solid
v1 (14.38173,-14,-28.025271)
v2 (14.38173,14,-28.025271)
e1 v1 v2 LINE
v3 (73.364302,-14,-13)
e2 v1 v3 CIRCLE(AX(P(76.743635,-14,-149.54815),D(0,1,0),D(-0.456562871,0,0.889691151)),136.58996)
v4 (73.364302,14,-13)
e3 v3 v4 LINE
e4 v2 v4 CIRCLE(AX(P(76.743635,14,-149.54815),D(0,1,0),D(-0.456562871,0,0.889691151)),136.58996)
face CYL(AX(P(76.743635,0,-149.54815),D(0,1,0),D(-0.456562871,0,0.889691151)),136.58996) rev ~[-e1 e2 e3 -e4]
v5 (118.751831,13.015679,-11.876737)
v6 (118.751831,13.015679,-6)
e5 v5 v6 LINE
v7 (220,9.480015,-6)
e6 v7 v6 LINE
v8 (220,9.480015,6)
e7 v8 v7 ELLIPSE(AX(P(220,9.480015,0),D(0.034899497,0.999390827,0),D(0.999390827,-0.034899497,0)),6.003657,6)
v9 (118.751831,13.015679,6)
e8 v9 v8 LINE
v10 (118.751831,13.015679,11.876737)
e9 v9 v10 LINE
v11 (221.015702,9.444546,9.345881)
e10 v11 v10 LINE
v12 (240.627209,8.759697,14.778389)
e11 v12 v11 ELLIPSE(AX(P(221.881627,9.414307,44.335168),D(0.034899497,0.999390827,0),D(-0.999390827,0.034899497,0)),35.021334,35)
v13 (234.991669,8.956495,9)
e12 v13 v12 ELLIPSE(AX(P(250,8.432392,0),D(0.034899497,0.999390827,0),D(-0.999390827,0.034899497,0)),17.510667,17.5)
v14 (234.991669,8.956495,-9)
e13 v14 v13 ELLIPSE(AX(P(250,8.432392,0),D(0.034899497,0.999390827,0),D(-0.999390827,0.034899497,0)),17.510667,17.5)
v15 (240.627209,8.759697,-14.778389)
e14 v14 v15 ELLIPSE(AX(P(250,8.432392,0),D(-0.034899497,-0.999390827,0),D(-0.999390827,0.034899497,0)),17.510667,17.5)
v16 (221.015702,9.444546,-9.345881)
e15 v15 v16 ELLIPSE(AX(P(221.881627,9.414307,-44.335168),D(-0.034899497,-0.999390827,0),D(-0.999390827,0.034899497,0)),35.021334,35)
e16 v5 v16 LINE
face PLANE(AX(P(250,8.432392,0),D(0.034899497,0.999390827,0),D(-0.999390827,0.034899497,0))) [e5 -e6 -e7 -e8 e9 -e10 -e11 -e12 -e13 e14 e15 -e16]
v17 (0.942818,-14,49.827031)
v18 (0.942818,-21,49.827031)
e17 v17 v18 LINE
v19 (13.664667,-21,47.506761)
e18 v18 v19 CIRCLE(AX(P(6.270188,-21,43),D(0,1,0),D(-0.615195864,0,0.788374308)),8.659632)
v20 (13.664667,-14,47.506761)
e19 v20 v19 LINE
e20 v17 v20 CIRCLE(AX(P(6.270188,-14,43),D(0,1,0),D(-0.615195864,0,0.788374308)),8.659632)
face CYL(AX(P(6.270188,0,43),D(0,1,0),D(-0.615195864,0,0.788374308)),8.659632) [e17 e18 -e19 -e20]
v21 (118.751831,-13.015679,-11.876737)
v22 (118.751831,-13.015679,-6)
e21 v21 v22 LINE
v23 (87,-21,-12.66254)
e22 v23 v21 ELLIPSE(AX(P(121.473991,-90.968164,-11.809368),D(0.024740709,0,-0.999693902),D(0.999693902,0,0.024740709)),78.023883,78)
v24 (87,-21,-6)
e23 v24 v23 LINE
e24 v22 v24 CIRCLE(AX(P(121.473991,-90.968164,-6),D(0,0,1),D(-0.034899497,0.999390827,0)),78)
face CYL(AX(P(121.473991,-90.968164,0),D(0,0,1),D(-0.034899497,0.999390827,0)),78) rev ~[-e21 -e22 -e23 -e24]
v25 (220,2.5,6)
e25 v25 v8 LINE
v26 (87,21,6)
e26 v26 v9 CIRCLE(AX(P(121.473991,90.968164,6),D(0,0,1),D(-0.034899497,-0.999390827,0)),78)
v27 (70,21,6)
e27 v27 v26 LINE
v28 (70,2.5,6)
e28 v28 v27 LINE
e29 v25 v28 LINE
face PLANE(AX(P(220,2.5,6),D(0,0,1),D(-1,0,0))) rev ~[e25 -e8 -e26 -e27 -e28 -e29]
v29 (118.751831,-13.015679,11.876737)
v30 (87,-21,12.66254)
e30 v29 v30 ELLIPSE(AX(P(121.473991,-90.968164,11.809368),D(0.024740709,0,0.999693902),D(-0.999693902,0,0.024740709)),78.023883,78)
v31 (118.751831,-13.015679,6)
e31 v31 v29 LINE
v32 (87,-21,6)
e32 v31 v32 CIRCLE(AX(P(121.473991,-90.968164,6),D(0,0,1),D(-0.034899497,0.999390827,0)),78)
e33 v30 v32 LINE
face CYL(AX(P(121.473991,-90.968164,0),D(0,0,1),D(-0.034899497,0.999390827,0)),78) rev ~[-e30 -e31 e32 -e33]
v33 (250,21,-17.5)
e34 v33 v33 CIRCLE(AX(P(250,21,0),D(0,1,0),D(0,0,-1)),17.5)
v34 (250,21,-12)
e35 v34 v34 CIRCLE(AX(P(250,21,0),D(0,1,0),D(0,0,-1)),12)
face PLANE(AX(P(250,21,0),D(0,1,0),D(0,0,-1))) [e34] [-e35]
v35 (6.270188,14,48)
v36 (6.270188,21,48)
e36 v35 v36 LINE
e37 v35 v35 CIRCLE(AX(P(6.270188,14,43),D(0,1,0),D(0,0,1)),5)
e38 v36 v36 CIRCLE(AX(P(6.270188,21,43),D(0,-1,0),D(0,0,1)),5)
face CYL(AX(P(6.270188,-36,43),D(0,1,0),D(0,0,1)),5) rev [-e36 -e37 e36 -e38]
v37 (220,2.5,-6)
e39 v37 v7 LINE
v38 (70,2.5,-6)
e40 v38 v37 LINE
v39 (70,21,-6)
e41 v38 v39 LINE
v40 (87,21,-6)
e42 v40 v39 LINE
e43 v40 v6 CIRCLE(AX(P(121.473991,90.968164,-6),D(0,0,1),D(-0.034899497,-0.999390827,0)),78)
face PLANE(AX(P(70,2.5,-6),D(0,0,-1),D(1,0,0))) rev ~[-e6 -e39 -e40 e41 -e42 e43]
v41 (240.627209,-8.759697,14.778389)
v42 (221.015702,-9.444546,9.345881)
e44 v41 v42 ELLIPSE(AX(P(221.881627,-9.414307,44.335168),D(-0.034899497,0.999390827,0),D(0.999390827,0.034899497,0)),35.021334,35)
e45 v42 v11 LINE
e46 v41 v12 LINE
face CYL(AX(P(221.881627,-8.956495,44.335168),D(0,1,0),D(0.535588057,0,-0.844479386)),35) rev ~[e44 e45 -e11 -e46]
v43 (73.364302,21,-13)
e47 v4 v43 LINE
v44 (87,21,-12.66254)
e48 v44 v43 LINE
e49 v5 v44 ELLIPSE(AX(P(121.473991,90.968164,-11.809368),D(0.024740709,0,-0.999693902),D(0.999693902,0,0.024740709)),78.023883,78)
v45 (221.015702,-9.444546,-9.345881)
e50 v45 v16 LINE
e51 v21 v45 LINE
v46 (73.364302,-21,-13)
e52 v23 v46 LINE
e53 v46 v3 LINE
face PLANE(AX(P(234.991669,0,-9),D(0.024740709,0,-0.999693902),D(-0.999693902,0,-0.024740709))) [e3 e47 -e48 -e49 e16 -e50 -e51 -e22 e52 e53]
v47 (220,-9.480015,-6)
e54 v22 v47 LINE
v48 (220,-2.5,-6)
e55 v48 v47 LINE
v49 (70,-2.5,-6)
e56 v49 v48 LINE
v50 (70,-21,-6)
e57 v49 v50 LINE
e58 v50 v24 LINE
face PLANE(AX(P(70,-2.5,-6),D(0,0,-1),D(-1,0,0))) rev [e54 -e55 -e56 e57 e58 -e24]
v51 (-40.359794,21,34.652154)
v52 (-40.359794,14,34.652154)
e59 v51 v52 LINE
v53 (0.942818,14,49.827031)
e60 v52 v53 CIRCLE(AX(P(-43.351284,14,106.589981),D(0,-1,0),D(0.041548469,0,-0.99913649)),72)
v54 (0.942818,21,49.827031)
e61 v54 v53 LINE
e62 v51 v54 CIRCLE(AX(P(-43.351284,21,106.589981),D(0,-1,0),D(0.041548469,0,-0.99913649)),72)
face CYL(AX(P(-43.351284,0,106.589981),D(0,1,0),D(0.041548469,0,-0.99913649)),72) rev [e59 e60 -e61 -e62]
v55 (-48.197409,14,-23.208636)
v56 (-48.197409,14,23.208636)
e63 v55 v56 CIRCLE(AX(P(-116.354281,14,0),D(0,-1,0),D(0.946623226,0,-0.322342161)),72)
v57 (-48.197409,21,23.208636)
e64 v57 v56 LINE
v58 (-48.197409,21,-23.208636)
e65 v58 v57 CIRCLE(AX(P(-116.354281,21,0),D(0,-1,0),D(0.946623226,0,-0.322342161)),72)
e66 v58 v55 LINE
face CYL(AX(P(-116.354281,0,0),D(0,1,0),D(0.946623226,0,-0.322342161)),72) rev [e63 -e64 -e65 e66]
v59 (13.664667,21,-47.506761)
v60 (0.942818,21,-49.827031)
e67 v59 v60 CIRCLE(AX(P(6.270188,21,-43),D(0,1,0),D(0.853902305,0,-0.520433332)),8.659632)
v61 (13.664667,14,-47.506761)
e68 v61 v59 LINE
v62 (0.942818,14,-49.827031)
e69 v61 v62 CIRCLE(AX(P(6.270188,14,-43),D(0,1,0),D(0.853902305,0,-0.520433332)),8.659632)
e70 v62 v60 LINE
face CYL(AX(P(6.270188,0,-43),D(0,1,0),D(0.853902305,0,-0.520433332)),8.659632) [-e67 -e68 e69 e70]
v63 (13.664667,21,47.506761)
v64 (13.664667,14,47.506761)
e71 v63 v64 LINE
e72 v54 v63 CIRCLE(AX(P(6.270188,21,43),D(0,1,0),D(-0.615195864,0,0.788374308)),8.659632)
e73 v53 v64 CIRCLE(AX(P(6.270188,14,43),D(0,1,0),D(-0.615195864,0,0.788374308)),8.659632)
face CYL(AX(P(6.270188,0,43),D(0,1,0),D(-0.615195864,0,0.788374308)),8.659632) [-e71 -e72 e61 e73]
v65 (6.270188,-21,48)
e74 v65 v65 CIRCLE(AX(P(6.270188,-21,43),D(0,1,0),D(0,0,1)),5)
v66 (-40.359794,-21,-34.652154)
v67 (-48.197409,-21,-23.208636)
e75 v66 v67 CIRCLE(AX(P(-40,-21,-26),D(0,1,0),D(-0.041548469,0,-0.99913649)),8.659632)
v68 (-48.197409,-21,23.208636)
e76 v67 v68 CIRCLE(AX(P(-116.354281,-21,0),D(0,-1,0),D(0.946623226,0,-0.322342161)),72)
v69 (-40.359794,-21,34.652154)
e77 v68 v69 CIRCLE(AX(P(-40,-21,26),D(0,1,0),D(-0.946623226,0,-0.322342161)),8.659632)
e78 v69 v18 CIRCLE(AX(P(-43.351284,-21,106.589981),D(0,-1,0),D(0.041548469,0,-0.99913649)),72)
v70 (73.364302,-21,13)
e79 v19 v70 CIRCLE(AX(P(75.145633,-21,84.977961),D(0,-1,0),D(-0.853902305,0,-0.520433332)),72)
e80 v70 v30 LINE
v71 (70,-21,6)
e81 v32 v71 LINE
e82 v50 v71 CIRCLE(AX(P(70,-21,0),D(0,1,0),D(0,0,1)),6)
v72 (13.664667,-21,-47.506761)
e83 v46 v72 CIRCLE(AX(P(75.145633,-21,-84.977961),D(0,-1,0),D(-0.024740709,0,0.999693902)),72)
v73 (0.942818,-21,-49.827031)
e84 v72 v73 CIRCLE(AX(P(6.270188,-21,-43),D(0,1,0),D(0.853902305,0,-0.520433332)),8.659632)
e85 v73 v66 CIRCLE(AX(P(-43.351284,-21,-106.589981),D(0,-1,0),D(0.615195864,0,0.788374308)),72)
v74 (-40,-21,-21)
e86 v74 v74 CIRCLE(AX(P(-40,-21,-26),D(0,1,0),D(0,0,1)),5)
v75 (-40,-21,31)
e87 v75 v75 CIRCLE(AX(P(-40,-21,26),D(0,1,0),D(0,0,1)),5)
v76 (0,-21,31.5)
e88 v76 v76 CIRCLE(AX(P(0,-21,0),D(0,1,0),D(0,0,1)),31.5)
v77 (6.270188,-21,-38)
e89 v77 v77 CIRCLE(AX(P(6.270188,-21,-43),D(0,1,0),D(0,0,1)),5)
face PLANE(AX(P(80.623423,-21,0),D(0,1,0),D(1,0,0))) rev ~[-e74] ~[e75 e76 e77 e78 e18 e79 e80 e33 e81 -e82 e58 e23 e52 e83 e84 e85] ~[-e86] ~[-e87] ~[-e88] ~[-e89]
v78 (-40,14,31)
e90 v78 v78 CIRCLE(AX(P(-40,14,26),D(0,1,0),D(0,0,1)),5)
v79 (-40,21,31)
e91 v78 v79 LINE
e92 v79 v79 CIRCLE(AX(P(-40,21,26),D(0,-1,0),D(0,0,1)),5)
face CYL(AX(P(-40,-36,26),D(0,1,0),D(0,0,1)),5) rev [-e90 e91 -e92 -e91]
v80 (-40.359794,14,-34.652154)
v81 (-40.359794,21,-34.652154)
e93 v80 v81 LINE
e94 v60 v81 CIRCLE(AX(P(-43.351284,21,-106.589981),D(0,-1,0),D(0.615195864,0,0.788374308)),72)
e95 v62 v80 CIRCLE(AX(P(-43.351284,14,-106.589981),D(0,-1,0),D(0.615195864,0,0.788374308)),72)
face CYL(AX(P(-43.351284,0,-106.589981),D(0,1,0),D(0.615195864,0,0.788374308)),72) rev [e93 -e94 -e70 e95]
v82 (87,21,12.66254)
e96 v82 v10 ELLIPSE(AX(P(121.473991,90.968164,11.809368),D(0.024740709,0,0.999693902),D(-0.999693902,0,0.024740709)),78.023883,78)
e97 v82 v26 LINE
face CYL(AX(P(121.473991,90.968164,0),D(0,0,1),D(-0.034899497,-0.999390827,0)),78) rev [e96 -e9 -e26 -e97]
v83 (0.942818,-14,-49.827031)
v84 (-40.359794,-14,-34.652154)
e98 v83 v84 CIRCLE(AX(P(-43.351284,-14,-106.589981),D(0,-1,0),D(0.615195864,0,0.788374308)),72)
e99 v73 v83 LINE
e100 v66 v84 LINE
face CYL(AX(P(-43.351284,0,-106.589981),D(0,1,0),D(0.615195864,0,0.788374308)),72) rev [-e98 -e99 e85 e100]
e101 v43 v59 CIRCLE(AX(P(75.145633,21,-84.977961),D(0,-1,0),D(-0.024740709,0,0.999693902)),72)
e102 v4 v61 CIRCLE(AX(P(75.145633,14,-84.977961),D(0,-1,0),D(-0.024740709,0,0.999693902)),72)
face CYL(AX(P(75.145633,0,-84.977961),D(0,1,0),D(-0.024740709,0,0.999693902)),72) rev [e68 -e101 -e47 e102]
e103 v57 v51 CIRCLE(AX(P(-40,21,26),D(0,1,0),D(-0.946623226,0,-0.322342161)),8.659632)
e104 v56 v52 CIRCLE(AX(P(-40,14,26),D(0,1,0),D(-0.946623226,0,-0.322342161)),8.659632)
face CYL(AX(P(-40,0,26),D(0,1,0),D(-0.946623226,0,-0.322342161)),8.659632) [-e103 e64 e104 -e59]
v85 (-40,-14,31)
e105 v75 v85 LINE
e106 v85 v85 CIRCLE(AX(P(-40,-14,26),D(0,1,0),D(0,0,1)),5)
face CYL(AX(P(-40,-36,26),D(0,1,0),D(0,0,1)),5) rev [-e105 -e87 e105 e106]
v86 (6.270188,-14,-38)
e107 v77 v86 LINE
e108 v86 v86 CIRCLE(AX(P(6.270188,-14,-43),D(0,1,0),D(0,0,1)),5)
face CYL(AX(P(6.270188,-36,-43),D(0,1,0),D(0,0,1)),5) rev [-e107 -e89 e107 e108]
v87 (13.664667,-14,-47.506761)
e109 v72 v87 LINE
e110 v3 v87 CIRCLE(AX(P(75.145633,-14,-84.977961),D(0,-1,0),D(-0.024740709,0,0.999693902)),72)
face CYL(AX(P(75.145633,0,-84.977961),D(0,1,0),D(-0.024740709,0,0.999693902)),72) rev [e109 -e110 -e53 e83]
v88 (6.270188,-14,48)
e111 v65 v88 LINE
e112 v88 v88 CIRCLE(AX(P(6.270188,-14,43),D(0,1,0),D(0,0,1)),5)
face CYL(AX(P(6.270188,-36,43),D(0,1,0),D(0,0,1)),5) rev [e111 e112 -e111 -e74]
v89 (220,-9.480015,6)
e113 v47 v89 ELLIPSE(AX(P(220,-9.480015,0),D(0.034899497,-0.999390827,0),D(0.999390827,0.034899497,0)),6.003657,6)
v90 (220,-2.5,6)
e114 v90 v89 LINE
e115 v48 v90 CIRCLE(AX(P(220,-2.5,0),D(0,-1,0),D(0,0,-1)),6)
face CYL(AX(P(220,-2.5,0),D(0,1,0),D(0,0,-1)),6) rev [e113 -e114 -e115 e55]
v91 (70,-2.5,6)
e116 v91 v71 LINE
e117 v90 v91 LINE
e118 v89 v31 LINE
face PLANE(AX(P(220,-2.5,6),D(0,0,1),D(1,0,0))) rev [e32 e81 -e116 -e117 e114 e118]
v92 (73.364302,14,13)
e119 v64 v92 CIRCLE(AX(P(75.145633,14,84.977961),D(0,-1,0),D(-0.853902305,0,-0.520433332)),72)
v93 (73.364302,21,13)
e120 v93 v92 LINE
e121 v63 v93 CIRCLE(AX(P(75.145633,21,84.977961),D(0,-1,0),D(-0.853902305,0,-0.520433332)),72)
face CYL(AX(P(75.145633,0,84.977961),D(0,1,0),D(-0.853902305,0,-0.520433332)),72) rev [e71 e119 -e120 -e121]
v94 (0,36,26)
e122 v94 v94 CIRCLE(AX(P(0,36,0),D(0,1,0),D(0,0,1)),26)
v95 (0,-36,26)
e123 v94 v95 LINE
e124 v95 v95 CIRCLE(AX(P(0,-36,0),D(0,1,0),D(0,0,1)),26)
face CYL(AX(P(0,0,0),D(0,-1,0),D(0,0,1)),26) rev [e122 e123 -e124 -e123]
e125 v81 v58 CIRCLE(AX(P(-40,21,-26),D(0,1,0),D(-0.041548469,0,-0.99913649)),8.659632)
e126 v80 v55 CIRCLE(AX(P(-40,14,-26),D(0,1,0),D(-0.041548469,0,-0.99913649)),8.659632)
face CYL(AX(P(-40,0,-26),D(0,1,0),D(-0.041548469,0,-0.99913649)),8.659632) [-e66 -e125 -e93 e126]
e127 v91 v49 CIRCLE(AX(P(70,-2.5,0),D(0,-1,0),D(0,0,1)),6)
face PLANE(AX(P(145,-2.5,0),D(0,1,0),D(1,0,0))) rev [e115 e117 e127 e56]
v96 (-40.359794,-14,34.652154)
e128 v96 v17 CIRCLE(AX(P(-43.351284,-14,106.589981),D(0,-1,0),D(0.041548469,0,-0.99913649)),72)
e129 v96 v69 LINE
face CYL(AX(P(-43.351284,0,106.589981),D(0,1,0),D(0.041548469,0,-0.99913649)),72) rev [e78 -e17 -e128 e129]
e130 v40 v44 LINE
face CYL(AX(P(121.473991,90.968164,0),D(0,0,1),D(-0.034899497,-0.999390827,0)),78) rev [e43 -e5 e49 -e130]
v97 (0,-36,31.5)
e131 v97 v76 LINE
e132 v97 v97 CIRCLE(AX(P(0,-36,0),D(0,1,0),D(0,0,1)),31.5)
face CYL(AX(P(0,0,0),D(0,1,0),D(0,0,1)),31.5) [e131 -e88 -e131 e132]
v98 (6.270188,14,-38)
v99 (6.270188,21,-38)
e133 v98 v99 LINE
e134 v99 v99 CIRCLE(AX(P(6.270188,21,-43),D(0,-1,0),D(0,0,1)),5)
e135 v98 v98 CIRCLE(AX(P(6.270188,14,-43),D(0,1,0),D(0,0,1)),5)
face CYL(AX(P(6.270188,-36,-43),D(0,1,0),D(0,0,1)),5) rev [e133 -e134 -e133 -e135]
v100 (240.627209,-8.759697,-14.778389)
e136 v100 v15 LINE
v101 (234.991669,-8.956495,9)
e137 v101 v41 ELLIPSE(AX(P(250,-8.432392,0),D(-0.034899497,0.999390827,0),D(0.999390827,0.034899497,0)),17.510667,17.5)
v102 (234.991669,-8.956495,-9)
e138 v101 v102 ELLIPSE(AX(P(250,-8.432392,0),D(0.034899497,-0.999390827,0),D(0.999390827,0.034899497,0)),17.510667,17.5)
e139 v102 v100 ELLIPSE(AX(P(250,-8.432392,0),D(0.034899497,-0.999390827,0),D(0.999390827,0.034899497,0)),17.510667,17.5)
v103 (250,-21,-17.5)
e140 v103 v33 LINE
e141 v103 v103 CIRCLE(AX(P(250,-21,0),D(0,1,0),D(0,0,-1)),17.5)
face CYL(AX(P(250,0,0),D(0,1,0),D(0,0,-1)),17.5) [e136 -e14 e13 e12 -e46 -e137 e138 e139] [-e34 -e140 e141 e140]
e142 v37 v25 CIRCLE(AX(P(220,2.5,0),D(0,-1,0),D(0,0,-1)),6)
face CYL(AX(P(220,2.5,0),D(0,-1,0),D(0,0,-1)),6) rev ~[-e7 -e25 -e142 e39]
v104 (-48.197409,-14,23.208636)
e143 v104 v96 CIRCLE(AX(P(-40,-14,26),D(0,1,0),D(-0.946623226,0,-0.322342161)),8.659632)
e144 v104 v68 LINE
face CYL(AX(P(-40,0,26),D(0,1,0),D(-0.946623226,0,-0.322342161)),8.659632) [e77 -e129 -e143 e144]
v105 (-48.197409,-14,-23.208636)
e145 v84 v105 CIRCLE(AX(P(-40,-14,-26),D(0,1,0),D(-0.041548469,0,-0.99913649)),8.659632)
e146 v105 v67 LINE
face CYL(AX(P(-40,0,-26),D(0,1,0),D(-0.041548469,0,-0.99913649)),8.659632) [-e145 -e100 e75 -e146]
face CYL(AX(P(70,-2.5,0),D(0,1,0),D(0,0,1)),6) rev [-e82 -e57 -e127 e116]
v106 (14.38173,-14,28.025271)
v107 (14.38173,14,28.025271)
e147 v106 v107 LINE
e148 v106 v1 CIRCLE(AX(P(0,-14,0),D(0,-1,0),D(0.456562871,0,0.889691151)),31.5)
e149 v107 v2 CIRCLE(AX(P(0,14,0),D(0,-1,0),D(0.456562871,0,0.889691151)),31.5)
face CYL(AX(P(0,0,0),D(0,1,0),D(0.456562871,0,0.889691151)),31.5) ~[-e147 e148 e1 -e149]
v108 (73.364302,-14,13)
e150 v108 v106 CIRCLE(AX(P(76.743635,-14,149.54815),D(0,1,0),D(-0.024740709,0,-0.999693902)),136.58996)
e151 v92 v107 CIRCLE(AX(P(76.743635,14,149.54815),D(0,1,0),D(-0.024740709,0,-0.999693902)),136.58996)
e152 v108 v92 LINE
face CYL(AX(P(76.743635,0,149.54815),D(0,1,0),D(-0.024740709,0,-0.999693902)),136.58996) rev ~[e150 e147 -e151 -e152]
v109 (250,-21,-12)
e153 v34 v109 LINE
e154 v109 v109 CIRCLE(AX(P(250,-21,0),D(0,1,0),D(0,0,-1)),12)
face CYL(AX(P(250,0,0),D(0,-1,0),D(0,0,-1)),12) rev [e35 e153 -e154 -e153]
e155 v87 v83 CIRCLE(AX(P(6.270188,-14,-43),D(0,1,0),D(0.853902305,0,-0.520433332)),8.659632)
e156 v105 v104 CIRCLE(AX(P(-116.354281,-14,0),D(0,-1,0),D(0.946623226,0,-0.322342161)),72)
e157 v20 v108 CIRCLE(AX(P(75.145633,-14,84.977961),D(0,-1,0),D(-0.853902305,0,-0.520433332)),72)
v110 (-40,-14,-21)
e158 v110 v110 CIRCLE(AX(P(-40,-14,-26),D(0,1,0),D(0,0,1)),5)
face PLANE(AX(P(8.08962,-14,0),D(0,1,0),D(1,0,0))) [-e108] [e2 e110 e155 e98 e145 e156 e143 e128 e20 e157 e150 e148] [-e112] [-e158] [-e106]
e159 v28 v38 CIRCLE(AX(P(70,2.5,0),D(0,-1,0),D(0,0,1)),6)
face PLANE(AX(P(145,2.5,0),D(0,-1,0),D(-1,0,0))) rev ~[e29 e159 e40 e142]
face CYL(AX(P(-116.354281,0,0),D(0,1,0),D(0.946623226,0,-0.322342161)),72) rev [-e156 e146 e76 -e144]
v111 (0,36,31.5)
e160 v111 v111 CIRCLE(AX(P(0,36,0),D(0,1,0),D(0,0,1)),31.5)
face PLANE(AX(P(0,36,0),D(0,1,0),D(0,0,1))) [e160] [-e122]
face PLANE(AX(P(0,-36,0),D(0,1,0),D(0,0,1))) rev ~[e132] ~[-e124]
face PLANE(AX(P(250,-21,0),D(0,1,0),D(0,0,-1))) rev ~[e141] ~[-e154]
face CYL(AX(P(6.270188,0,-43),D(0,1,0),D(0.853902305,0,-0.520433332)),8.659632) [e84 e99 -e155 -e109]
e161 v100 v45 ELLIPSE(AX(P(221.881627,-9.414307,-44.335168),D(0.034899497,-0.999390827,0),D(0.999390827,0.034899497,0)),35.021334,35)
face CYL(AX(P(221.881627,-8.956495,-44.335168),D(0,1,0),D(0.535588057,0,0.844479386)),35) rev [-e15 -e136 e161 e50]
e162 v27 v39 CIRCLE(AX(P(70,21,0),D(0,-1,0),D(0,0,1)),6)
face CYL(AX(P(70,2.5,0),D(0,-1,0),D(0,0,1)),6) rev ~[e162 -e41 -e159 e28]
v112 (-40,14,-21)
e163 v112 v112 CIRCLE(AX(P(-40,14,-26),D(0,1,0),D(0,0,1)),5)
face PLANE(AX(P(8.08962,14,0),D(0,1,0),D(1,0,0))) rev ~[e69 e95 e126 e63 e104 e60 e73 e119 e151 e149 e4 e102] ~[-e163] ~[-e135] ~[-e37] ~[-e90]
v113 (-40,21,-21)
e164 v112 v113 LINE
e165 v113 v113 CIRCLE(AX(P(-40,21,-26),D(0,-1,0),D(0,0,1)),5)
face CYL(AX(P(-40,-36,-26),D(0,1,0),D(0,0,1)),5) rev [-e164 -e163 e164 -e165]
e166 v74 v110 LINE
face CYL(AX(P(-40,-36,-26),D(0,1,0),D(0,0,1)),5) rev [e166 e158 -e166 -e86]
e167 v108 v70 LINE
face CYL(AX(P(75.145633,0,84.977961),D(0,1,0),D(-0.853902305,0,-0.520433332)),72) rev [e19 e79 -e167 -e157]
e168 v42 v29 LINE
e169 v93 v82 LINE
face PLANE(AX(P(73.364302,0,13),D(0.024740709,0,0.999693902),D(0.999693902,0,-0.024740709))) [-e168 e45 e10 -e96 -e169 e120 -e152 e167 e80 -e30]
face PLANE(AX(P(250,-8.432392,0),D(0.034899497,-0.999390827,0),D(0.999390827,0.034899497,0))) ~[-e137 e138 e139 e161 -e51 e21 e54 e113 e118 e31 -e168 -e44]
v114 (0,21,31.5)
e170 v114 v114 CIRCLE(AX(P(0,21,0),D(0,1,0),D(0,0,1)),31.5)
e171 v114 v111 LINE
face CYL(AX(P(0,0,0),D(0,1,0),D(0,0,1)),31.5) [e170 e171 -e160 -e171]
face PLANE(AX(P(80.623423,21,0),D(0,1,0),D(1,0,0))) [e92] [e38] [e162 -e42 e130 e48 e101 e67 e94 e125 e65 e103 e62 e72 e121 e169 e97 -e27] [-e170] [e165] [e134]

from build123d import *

# Parameters (mm, degrees)
SKETCH1_R                           = 31.5
SKETCH1_R_2                         = 26
BOSS_EXTRUDE4_DEPTH                 = 36
SKETCH1_6_R                         = 31.5
BOSS_EXTRUDE5_DEPTH                 = 21
SKETCH1_7_R                         = 17.499999999999996
SKETCH1_7_R_2                       = 12.000000000000032
BOSS_EXTRUDE6_DEPTH                 = 21
CUT_EXTRUDE2_DEPTH                  = 14
F_10_0_10_DIAMETER_HOLE1_AT_2_COUNT = 2
F_10_0_10_DIAMETER_HOLE1_AT_2_PITCH = 49.29432288112943
F_10_0_10_DIAMETER_HOLE1_AT_3_COUNT = 2
F_10_0_10_DIAMETER_HOLE1_AT_3_PITCH = 83.07785666655731
F_10_0_10_DIAMETER_HOLE1_AT_4_COUNT = 2
F_10_0_10_DIAMETER_HOLE1_AT_4_PITCH = 86
CUT_EXTRUDE3_DEPTH                  = 275.8107850129084
CUT_EXTRUDE5_START                  = 2.5
CUT_EXTRUDE5_DEPTH                  = 273.3107850129084
FILLET1_R                           = 35


with BuildPart() as part:
    # Sketch1 → Boss-Extrude4 (new, symmetric)
    with BuildSketch(Plane(origin=(0, 0, 0), x_dir=(1, 0, 0), z_dir=(0, 1, 0))):
        with Locations(Location((0, 0, 0), (0, 0, 270))):
            Circle(SKETCH1_R)
        with Locations(Location((0, 0, 0), (0, 0, 270))):
            Circle(SKETCH1_R_2, mode=Mode.SUBTRACT)
    extrude(amount=BOSS_EXTRUDE4_DEPTH, both=True)

    # Sketch1<6> → Boss-Extrude5 (add, symmetric)
    with BuildSketch(Plane(origin=(0, 0, 0), x_dir=(1, 0, 0), z_dir=(0, 1, 0))):
        with BuildLine():
            Line((73.36430221224288, -13), (234.99166898019635, -9))
            ThreePointArc((234.99166898019635, -8.999999999999988), (232.5, 2.14e-15), (234.99166898019635, 8.999999999999991))
            Line((234.99166898019635, 9), (73.36430221224288, 13))
            ThreePointArc((73.36430221224288, 13), (39.114969977483554, 22.641845358080204), (13.664667255675049, 47.506761038700624))
            ThreePointArc((13.664667255675045, 47.50676103870063), (7.823940970794196, 51.519100534686345), (0.9428180059327183, 49.82703123693257))
            ThreePointArc((0.9428180059327147, 49.827031236932584), (-18.520838663158816, 39.007076929693255), (-40.35979444370536, 34.65215413378165))
            ThreePointArc((-40.35979444370536, 34.65215413378164), (-47.144575584343094, 30.893287536620406), (-48.19740860349871, 23.20863556952498))
            ThreePointArc((-48.1974086034987, 23.208635569524983), (-44.3542808542188, 3.55e-15), (-48.19740860349869, -23.208635569524983))
            ThreePointArc((-48.19740860349871, -23.20863556952498), (-47.144575584343094, -30.893287536620406), (-40.35979444370536, -34.65215413378164))
            ThreePointArc((-40.35979444370536, -34.65215413378165), (-18.520838663158816, -39.007076929693255), (0.9428180059327147, -49.827031236932584))
            ThreePointArc((0.9428180059327183, -49.82703123693257), (7.823940970794196, -51.519100534686345), (13.664667255675045, -47.50676103870063))
            ThreePointArc((13.664667255675049, -47.506761038700624), (39.114969977483554, -22.641845358080204), (73.36430221224288, -13))
        make_face()
        with Locations(Location((0, 0, 0), (0, 0, 270))):
            Circle(SKETCH1_6_R, mode=Mode.SUBTRACT)
    extrude(amount=BOSS_EXTRUDE5_DEPTH, both=True)

    # Sketch3 → Cut-Extrude2 (cut, symmetric)
    with BuildSketch(Plane(origin=(0, 0, 0), x_dir=(1, 0, 0), z_dir=(0, 1, 0))):
        with BuildLine():
            ThreePointArc((13.664667255675027, -47.50676103870063), (39.11496997748354, -22.64184535808019), (73.36430221224288, -13))
            ThreePointArc((73.36430221224288, -13), (43.025431211720246, -17.18539121666319), (14.381730442456515, -28.025271265065697))
            ThreePointArc((14.38173044245655, -28.025271265065726), (-31.5, -1.013e-14), (14.381730442456531, 28.025271265065733))
            ThreePointArc((14.381730442456515, 28.025271265065697), (43.025431211720246, 17.18539121666319), (73.36430221224288, 13))
            ThreePointArc((73.36430221224288, 12.999999999999986), (39.11496997748353, 22.64184535808019), (13.664667255675035, 47.50676103870063))
            ThreePointArc((13.664667255675045, 47.50676103870064), (7.823940970794192, 51.519100534686345), (0.9428180059327165, 49.82703123693258))
            ThreePointArc((0.9428180059327147, 49.82703123693257), (-18.520838663158813, 39.00707692969324), (-40.35979444370537, 34.65215413378162))
            ThreePointArc((-40.35979444370537, 34.652154133781636), (-47.14457558434309, 30.89328753662039), (-48.197408603498715, 23.20863556952498))
            ThreePointArc((-48.19740860349873, 23.208635569524986), (-44.354280854218786, 5.33e-15), (-48.1974086034987, -23.20863556952498))
            ThreePointArc((-48.19740860349871, -23.20863556952498), (-47.14457558434308, -30.89328753662039), (-40.35979444370537, -34.652154133781636))
            ThreePointArc((-40.359794443705375, -34.65215413378162), (-18.520838663158816, -39.00707692969324), (0.9428180059327218, -49.82703123693256))
            ThreePointArc((0.9428180059327174, -49.82703123693258), (7.8239409707941885, -51.51910053468634), (13.664667255675035, -47.50676103870063))
        make_face()
    extrude(amount=CUT_EXTRUDE2_DEPTH, both=True, mode=Mode.SUBTRACT)

    # Sketch6 → Ø10.0 (10) Diameter Hole1 (revolve, cut)
    with BuildSketch(Plane(origin=(6.270187683961703, 21, -43), x_dir=(0, 0, 1), z_dir=(1, 0, 0))):
        Polygon((0, 0), (-1.396e-14, 56.99999999999999), (4.999999999999993, 56.99999999999999), (5, 5.5e-16), align=None)
    f_10_0_10_diameter_hole1 = revolve(axis=Axis((6.270187683961703, 27.34999999999999, -43), (0, -1, 0)), mode=Mode.SUBTRACT)

    # Ø10.0 (10) Diameter Hole1 at 2: Ø10.0 (10) Diameter Hole1 ×2
    with Locations(*[Vector(-0.9386514507063974, 0, 0.3448672992424417) * (i * F_10_0_10_DIAMETER_HOLE1_AT_2_PITCH) for i in range(1, F_10_0_10_DIAMETER_HOLE1_AT_2_COUNT)]):
        add(f_10_0_10_diameter_hole1, mode=Mode.SUBTRACT)

    # Ø10.0 (10) Diameter Hole1 at 3: Ø10.0 (10) Diameter Hole1 ×2
    with Locations(*[Vector(-0.5569497040549868, 0, 0.8305462221653065) * (i * F_10_0_10_DIAMETER_HOLE1_AT_3_PITCH) for i in range(1, F_10_0_10_DIAMETER_HOLE1_AT_3_COUNT)]):
        add(f_10_0_10_diameter_hole1, mode=Mode.SUBTRACT)

    # Ø10.0 (10) Diameter Hole1 at 4: Ø10.0 (10) Diameter Hole1 ×2
    with Locations(*[(0, 0, i * F_10_0_10_DIAMETER_HOLE1_AT_4_PITCH) for i in range(1, F_10_0_10_DIAMETER_HOLE1_AT_4_COUNT)]):
        add(f_10_0_10_diameter_hole1, mode=Mode.SUBTRACT)

    # Sketch7 → Cut-Extrude3 (cut, symmetric)
    with BuildSketch(Plane.XY):
        with BuildLine():
            Line((233.74583449009816, 9.00000000000001), (118.75183062971695, 13.015679101740716))
            ThreePointArc((118.75183062971695, 13.015679101740716), (102.45227278301908, 15.323109429183773), (87, 21))
            Line((87, 21), (233.74583449009816, 21))
            Line((233.74583449009816, 21), (250, 21))
            Line((250, 21), (250, 8.432392032948131))
            Line((250, 8.432392032948131), (233.74583449009816, 9.00000000000001))
        make_face()
    cut_extrude3 = extrude(amount=CUT_EXTRUDE3_DEPTH, both=True, mode=Mode.SUBTRACT)

    # Mirror1: Cut-Extrude3 across plane
    add(cut_extrude3.mirror(Plane.ZX), mode=Mode.SUBTRACT)

    # Sketch8 → Cut-Extrude5 (cut, through all)
    with BuildSketch(Plane(origin=(0, 0, 0), x_dir=(1, 0, 0), z_dir=(0, 1, 0)).offset(CUT_EXTRUDE5_START)):
        with BuildLine():
            Line((70, 6), (220, 6))
            ThreePointArc((220, 6), (226, 0), (220, -6))
            Line((220, -6), (70, -6))
            ThreePointArc((70, -6), (64.00000000000003, 7.3e-16), (70, 6))
        make_face()
    cut_extrude5 = extrude(amount=CUT_EXTRUDE5_DEPTH, mode=Mode.SUBTRACT)

    # Mirror2: Cut-Extrude5 across plane
    add(cut_extrude5.mirror(Plane.ZX), mode=Mode.SUBTRACT)


with BuildPart() as body_2:
    # Sketch1<7> → Boss-Extrude6 (new, symmetric)
    with BuildSketch(Plane(origin=(0, 0, 0), x_dir=(1, 0, 0), z_dir=(0, 1, 0))):
        with Locations(Location((250, 0, 0), (0, 0, 90))):
            Circle(SKETCH1_7_R)
        with Locations(Location((250, 0, 0), (0, 0, 90))):
            Circle(SKETCH1_7_R_2, mode=Mode.SUBTRACT)
    extrude(amount=BOSS_EXTRUDE6_DEPTH, both=True)


with BuildPart() as part_1:
    add(part.part)

    # Combine1: union body 2
    add(body_2.part)

    # Fillet1
    fillet1_edges = [part_1.edges().sort_by_distance(p)[0] for p in [
        (234.99166898019635, 0, -8.999999999999996),
        (234.99166898019635, 0, 8.999999999999995),
    ]]
    fillet(fillet1_edges, radius=FILLET1_R)


solid = part_1.part
